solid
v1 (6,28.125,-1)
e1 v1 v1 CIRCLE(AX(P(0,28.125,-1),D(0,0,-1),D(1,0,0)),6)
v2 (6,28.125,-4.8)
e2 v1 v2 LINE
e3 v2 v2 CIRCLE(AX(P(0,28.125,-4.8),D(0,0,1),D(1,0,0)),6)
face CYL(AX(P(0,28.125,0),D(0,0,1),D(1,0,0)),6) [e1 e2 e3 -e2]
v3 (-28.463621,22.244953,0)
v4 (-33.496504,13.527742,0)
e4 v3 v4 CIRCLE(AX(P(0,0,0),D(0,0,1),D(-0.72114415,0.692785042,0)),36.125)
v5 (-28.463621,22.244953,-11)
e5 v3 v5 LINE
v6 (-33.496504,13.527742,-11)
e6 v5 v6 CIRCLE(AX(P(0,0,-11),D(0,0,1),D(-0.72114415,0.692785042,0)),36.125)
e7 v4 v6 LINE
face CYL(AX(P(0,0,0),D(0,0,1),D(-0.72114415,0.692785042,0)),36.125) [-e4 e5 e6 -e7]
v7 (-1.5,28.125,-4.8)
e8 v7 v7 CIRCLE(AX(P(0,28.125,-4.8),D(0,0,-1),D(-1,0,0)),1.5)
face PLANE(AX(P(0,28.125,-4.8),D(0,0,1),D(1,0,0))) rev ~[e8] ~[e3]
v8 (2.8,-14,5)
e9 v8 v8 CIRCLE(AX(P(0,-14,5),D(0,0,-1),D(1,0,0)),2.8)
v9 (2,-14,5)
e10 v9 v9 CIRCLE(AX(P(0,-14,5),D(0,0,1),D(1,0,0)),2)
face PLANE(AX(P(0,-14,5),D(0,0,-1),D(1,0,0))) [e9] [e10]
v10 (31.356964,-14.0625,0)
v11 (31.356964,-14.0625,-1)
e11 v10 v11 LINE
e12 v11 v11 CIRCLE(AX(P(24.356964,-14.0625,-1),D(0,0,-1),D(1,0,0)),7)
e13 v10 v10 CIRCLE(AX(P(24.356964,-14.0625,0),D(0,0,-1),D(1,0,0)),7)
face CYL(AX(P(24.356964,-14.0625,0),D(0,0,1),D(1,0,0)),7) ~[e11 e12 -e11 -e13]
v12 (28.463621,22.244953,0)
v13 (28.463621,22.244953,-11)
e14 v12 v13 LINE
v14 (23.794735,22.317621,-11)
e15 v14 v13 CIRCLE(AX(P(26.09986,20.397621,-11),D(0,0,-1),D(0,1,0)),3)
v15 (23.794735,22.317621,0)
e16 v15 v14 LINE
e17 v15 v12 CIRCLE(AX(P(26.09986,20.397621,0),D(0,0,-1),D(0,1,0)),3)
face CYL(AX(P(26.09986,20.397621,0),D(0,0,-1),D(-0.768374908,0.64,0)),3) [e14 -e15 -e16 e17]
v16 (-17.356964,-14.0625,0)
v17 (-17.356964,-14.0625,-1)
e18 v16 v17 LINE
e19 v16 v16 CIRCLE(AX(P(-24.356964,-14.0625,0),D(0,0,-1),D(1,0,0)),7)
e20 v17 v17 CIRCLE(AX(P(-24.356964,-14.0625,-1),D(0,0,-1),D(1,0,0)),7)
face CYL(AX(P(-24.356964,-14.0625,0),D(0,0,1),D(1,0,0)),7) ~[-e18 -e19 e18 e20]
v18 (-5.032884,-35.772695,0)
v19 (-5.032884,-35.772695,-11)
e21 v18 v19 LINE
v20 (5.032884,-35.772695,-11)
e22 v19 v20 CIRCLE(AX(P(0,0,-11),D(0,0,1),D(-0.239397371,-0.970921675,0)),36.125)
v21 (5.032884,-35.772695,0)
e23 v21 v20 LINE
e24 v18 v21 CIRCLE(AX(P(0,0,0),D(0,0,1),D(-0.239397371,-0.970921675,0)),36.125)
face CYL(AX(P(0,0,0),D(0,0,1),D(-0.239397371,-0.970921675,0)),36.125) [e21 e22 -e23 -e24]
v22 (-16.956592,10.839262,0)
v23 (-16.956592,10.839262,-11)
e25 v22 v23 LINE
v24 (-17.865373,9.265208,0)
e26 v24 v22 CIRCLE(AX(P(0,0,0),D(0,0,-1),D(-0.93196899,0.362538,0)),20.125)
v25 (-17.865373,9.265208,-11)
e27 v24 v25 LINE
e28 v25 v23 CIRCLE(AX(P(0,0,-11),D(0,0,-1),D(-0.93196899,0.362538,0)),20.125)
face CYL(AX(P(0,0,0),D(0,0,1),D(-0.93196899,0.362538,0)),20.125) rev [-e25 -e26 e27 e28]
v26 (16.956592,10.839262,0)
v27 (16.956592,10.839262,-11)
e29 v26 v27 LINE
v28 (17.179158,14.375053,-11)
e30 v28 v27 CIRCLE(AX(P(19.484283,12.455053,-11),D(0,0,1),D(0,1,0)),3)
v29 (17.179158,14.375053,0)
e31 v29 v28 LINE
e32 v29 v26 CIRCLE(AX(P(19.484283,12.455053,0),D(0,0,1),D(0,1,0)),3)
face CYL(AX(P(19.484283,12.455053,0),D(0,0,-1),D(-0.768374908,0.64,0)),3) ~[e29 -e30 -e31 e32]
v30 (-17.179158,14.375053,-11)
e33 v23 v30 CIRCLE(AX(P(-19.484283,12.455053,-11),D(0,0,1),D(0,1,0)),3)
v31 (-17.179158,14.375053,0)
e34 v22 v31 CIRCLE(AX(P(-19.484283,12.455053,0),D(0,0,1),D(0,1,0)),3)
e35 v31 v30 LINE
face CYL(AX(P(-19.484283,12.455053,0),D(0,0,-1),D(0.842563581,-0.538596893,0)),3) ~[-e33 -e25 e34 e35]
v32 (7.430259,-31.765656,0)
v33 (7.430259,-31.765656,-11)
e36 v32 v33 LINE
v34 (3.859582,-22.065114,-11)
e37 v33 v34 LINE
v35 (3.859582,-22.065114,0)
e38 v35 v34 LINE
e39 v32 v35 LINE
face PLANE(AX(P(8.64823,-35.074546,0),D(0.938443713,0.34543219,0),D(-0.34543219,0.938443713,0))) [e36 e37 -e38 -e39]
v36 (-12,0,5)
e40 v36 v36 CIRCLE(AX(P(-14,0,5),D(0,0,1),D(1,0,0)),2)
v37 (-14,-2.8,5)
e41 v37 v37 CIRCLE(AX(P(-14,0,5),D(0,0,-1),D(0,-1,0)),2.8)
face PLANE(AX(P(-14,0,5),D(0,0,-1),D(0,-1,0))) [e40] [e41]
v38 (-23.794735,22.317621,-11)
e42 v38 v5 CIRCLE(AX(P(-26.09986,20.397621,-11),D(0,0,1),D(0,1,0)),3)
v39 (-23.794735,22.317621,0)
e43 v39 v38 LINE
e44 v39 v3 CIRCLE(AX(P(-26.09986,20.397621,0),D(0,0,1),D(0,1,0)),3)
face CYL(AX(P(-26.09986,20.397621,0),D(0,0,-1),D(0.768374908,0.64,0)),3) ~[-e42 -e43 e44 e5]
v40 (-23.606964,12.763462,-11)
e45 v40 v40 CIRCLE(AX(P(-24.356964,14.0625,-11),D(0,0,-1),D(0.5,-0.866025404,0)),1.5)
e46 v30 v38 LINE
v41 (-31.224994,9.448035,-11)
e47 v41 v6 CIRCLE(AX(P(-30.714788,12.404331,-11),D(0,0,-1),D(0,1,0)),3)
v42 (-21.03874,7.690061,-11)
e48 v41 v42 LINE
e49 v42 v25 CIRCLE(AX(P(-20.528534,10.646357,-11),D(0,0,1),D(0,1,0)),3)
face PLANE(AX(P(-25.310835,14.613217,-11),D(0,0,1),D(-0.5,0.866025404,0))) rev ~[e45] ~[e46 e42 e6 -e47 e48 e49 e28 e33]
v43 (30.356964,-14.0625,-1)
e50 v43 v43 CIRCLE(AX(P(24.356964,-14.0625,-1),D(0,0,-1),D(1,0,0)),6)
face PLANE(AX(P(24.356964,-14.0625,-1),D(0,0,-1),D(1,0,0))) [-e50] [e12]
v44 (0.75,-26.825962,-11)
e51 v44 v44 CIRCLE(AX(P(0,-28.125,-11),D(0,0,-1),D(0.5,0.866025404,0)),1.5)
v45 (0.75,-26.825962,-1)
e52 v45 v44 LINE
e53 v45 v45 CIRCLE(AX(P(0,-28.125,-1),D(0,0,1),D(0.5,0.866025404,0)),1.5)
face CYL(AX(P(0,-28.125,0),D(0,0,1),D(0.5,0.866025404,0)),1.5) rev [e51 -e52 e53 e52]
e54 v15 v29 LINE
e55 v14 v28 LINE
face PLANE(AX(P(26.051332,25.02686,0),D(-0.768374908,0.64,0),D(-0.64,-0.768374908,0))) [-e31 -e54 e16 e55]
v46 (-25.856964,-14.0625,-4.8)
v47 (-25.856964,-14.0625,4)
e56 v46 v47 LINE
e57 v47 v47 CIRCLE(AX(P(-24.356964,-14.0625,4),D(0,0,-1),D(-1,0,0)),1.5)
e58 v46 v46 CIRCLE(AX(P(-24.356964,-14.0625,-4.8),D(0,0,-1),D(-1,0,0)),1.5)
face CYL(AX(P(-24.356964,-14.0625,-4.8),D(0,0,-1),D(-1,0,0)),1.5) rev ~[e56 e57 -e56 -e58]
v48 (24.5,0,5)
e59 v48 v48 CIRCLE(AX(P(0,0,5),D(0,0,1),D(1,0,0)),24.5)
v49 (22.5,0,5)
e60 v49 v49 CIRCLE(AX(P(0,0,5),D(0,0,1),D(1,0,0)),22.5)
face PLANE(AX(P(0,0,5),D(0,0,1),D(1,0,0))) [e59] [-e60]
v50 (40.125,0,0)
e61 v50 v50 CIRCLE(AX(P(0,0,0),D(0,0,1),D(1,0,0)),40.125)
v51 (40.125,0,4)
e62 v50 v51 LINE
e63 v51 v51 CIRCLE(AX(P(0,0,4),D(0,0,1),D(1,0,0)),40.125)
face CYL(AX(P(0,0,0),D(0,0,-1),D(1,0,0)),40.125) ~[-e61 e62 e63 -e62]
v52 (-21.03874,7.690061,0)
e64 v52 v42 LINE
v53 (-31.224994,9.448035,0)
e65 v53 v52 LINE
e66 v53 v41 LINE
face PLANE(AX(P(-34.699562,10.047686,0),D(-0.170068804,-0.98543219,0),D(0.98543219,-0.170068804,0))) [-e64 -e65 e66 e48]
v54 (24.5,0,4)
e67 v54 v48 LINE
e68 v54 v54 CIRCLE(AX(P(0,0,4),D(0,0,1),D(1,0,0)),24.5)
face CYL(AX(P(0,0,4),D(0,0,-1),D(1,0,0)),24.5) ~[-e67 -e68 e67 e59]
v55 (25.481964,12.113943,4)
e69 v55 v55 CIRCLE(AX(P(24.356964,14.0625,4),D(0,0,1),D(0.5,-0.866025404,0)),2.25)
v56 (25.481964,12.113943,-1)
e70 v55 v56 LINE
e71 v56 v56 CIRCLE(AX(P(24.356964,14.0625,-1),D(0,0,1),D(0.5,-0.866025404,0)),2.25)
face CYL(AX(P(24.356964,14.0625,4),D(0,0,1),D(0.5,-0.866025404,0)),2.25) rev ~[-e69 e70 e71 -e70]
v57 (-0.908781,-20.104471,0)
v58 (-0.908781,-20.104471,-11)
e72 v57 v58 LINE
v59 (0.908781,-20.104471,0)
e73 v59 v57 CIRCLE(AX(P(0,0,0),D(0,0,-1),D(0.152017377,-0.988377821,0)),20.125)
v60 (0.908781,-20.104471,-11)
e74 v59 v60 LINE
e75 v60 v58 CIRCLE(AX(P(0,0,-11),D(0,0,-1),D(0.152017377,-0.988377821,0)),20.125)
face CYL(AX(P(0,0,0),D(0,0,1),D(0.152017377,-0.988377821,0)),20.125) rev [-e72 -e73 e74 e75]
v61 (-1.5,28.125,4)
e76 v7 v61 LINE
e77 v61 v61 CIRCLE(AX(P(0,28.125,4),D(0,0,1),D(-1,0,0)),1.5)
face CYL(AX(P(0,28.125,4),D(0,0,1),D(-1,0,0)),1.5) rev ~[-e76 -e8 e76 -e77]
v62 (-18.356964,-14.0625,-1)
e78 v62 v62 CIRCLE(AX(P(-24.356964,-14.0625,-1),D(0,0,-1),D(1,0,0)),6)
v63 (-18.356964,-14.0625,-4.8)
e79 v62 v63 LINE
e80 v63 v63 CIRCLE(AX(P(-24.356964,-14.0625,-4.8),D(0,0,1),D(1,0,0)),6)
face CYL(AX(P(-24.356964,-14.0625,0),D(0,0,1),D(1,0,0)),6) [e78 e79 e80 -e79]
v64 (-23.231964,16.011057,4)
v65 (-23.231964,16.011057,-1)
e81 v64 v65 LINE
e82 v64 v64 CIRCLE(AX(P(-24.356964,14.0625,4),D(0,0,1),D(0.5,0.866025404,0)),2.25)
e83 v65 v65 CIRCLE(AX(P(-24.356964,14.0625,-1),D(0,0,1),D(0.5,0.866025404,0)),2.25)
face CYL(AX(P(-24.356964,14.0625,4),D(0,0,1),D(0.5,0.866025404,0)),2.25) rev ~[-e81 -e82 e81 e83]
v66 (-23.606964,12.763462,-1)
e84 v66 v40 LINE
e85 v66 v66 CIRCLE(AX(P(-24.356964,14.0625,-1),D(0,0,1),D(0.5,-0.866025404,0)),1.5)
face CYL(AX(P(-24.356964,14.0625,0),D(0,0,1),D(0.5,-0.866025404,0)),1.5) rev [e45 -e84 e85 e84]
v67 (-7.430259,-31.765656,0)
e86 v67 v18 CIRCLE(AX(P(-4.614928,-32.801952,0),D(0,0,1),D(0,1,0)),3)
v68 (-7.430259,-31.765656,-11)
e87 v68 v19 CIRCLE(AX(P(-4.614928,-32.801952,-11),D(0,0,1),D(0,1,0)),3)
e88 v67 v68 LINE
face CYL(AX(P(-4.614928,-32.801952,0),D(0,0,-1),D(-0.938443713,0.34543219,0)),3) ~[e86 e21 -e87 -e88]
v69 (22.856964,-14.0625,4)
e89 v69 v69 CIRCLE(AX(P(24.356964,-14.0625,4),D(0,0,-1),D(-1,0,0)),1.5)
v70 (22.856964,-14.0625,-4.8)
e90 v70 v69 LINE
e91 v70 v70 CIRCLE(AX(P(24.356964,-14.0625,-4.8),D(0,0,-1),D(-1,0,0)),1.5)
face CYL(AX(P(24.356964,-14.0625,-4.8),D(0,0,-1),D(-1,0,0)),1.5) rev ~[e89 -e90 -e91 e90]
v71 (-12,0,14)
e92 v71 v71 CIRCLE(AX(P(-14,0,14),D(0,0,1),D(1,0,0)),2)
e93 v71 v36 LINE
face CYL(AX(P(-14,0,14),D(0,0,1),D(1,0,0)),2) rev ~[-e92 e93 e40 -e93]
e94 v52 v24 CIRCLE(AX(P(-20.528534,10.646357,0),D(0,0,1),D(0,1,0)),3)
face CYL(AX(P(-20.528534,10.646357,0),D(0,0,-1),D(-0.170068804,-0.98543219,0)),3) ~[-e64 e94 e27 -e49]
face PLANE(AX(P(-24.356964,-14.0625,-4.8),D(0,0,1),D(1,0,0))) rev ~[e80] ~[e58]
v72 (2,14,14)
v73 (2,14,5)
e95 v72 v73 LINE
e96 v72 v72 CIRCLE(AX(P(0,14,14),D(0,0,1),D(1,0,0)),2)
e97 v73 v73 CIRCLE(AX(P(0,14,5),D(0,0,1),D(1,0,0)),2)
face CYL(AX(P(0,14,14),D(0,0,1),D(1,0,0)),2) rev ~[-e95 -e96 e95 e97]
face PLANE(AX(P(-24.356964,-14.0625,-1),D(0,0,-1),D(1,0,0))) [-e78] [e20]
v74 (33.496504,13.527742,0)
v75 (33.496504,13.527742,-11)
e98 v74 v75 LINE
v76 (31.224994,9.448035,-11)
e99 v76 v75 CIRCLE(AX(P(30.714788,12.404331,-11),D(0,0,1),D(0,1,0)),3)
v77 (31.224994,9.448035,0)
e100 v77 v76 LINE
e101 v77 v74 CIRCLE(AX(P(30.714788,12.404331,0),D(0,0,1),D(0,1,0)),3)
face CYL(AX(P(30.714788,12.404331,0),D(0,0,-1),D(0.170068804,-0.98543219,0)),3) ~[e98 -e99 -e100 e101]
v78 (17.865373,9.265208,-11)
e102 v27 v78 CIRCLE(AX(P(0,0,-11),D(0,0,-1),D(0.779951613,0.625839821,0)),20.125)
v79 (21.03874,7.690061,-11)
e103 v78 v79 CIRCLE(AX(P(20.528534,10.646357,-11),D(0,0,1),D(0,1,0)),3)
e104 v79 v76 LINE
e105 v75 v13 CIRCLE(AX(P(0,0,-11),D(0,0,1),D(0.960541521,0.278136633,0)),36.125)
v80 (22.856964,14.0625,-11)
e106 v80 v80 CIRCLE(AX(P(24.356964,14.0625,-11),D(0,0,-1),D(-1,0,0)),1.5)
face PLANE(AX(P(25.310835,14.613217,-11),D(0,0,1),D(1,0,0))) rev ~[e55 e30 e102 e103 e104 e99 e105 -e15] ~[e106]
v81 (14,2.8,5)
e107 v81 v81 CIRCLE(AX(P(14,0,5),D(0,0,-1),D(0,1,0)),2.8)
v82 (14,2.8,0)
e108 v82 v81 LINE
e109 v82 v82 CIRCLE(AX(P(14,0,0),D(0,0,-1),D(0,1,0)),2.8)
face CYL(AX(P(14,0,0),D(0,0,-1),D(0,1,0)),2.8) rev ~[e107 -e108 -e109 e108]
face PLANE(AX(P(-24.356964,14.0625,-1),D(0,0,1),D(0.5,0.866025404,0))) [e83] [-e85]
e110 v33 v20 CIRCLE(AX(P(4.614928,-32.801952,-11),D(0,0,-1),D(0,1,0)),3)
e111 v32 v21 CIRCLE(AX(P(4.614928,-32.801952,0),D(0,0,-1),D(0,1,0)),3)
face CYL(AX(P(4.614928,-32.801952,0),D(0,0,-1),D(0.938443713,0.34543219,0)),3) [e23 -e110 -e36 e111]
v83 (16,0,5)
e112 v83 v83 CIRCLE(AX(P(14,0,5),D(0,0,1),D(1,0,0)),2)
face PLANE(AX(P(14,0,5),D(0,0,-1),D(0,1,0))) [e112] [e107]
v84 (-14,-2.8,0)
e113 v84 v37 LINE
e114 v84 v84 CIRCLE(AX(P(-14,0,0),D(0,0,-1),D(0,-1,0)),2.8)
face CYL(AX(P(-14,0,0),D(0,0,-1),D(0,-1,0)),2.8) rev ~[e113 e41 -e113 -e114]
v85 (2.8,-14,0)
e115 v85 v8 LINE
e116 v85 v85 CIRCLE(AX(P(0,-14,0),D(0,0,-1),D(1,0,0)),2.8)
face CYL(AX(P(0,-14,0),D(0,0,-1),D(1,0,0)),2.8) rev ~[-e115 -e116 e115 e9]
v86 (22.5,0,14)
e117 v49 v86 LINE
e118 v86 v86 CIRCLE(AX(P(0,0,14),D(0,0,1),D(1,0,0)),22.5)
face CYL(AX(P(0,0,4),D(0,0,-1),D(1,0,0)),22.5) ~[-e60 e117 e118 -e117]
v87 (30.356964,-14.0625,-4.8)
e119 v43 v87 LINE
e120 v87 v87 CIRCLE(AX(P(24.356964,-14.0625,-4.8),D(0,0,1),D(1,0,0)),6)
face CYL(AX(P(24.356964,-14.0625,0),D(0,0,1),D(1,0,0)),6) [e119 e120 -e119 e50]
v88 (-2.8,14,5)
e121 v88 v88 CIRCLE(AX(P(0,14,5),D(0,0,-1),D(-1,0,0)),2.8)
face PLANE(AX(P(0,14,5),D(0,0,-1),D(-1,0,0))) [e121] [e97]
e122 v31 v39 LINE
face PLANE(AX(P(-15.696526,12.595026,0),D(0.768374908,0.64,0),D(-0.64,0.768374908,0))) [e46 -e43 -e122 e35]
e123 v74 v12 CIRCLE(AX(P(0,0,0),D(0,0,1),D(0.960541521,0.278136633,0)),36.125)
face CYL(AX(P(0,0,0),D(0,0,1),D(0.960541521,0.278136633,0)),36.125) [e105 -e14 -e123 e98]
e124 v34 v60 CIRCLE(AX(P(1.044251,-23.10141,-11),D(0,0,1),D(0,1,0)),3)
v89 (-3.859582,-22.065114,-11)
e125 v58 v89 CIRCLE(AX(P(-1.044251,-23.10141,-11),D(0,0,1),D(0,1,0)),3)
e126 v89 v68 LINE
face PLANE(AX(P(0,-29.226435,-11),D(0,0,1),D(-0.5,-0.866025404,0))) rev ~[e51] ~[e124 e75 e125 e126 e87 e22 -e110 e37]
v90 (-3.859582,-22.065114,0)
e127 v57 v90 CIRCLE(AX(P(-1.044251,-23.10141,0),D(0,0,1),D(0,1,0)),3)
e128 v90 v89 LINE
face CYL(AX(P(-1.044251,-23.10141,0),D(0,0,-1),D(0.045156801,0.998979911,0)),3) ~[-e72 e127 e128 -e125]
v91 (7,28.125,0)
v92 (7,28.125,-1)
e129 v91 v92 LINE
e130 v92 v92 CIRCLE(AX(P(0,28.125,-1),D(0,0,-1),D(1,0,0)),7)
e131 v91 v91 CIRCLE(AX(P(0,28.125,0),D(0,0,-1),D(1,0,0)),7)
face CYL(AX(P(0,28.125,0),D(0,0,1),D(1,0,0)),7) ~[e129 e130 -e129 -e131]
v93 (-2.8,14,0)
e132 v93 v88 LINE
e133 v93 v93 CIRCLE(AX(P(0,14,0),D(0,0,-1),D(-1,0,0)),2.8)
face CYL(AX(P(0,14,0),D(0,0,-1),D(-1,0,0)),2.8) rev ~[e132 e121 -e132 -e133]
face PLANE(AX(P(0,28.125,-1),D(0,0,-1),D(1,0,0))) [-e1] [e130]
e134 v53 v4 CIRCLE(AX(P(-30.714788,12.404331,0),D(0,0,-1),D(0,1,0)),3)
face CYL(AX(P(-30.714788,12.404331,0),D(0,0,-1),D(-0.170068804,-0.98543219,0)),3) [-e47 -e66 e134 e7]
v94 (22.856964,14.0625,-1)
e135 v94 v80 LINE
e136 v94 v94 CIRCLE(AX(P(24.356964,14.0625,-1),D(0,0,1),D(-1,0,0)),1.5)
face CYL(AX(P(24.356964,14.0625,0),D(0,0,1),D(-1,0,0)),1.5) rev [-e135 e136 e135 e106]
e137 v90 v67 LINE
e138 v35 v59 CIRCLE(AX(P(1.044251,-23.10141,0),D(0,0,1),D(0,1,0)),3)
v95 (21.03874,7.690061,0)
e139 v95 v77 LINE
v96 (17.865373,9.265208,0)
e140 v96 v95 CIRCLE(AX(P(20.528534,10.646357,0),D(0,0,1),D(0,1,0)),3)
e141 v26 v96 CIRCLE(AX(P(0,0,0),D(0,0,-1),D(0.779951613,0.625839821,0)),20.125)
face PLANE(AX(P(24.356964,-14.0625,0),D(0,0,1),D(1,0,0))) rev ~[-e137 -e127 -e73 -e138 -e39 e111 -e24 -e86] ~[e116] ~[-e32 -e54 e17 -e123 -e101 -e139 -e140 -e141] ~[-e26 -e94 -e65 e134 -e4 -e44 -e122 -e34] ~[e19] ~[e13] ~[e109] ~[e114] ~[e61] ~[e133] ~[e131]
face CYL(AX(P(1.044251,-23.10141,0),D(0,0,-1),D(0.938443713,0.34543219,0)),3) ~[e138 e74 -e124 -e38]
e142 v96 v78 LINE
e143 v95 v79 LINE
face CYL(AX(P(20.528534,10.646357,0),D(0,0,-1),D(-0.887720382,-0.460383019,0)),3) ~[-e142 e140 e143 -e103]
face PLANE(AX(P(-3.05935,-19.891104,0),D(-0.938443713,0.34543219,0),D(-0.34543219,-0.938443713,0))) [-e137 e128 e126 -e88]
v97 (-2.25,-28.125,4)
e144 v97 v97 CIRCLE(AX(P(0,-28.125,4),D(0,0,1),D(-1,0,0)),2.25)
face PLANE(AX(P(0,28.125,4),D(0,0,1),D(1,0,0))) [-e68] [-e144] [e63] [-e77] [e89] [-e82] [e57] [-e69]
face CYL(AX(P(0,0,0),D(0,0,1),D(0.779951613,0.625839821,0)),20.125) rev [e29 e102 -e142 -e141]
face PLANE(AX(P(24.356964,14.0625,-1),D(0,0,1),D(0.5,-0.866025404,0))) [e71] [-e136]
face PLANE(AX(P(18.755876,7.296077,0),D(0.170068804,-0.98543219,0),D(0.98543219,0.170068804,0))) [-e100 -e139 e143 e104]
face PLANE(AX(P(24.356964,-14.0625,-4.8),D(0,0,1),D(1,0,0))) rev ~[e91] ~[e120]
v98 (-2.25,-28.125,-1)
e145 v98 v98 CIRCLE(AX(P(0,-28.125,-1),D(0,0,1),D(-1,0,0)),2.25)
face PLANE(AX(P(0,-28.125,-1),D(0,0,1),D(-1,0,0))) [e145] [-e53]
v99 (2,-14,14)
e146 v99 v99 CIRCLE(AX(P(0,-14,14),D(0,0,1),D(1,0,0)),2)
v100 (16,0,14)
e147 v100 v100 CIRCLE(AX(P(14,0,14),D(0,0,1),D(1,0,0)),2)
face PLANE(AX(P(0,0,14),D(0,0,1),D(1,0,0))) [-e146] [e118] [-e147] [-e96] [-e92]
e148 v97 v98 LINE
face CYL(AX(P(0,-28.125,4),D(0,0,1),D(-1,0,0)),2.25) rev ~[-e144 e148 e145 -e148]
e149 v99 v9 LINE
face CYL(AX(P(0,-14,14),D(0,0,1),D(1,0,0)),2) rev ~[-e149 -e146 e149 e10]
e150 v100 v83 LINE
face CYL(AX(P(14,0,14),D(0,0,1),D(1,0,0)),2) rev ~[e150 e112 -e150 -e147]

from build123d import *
from build123d.topology import SkipClean

# Parameters (mm, degrees)
SKETCH1_R                = 40.125
SKETCH1_R_2              = 6
BOSS_EXTRUDE1_DEPTH      = 4
SKETCH1_3_R              = 6
BOSS_EXTRUDE2_DEPTH      = 4.8
SKETCH2_R                = 7
SKETCH2_R_2              = 6
BOSS_EXTRUDE3_DEPTH      = 1
SKETCH3_R                = 22.5
BOSS_EXTRUDE4_DEPTH      = 10
SKETCH3_3_R              = 24.5
SKETCH3_3_R_2            = 22.5
BOSS_EXTRUDE5_DEPTH      = 1
SKETCH4_R                = 2
CUT_EXTRUDE1_DEPTH       = 60.778518299
SKETCH5_R                = 1.5
CUT_EXTRUDE2_DEPTH       = 60.778518299
SKETCH6_R                = 2.25
CUT_EXTRUDE3_DEPTH       = 5
SKETCH7_R                = 2.8
CUT_EXTRUDE4_DEPTH       = 5
CIRPATTERN2_COUNT        = 4
SKETCH8_R                = 1.5
BOSS_EXTRUDE6_DEPTH      = 11
FILLET1_R                = 3
SKETCH8_2_R              = 1.5
CUT_EXTRUDE5_DEPTH       = 59.446824122
CIRPATTERN3_COUNT        = 3
FILLET1_OF_CIRPATTERN3_R = 3
CIRPATTERN1_COUNT        = 6
SKETCH6_2_R              = 2.25
SKETCH6_2_R_2            = 1.5
BOSS_EXTRUDE7_DEPTH      = 5


with BuildPart() as part:
    # Sketch1 → Boss-Extrude1 (new body)
    # profile 1 of 4: a face of its own
    with BuildSketch(Plane.XY):
        Circle(SKETCH1_R)
        with Locations((0, 28.125)):
            Circle(SKETCH1_R_2, mode=Mode.SUBTRACT)
        with Locations((24.356964481, -14.0625)):
            Circle(SKETCH1_R_2, mode=Mode.SUBTRACT)
        with Locations((-24.356964481, -14.0625)):
            Circle(SKETCH1_R_2, mode=Mode.SUBTRACT)
    # profile 2 of 4: a face of its own
    with BuildSketch(Plane.XY):
        with Locations((0, 28.125)):
            Circle(SKETCH1_R_2)
    # profile 3 of 4: a face of its own
    with BuildSketch(Plane.XY):
        with Locations((-24.356964481, -14.0625)):
            Circle(SKETCH1_R_2)
    # profile 4 of 4: a face of its own
    with BuildSketch(Plane.XY):
        with Locations((24.356964481, -14.0625)):
            Circle(SKETCH1_R_2)
    extrude(amount=BOSS_EXTRUDE1_DEPTH)

    # Sketch1<3> → Boss-Extrude2 (add)
    with BuildSketch(Plane.XY):
        with Locations((0, 28.125)):
            Circle(SKETCH1_3_R)
        with Locations((24.356964481, -14.0625)):
            Circle(SKETCH1_3_R)
        with Locations((-24.356964481, -14.0625)):
            Circle(SKETCH1_3_R)
    extrude(amount=-BOSS_EXTRUDE2_DEPTH)

    # Sketch2 → Boss-Extrude3 (add)
    # profile 1 of 3: a face of its own
    with BuildSketch(Plane(origin=(0, 0, 0), x_dir=(-1, 0, 0), z_dir=(0, 0, -1))):
        with Locations(Location((0, 28.125, 0), (0, 0, 180))):
            Circle(SKETCH2_R)
        with Locations(Location((0, 28.125, 0), (0, 0, 180))):
            Circle(SKETCH2_R_2, mode=Mode.SUBTRACT)
    # profile 2 of 3: a face of its own
    with BuildSketch(Plane(origin=(0, 0, 0), x_dir=(-1, 0, 0), z_dir=(0, 0, -1))):
        with Locations(Location((-24.356964481, -14.0625, 0), (0, 0, 180))):
            Circle(SKETCH2_R)
        with Locations(Location((-24.356964481, -14.0625, 0), (0, 0, 180))):
            Circle(SKETCH2_R_2, mode=Mode.SUBTRACT)
    # profile 3 of 3: a face of its own
    with BuildSketch(Plane(origin=(0, 0, 0), x_dir=(-1, 0, 0), z_dir=(0, 0, -1))):
        with Locations(Location((24.356964481, -14.0625, 0), (0, 0, 180))):
            Circle(SKETCH2_R)
        with Locations(Location((24.356964481, -14.0625, 0), (0, 0, 180))):
            Circle(SKETCH2_R_2, mode=Mode.SUBTRACT)
    extrude(amount=BOSS_EXTRUDE3_DEPTH)

    # Sketch3 → Boss-Extrude4 (add)
    with BuildSketch(Plane.XY.offset(4)):
        Circle(SKETCH3_R)
    extrude(amount=BOSS_EXTRUDE4_DEPTH)

    # Sketch3<3> → Boss-Extrude5 (add)
    with BuildSketch(Plane.XY.offset(4)):
        Circle(SKETCH3_3_R)
        Circle(SKETCH3_3_R_2, mode=Mode.SUBTRACT)
    extrude(amount=BOSS_EXTRUDE5_DEPTH)

    # Sketch4 → Cut-Extrude1 (cut, through all)
    with BuildSketch(Plane.XY.offset(14)):
        with Locations((0, 14)):
            Circle(SKETCH4_R)
        with Locations((14, 0)):
            Circle(SKETCH4_R)
        with Locations((0, -14)):
            Circle(SKETCH4_R)
        with Locations((-14, 0)):
            Circle(SKETCH4_R)
    extrude(amount=-CUT_EXTRUDE1_DEPTH, mode=Mode.SUBTRACT)

    # Sketch5 → Cut-Extrude2 (cut, through all)
    with BuildSketch(Plane(origin=(0, 0, -4.8), x_dir=(-1, 0, 0), z_dir=(0, 0, -1))):
        with Locations((0, 28.125)):
            Circle(SKETCH5_R)
        with Locations((24.356964481, -14.0625)):
            Circle(SKETCH5_R)
        with Locations((-24.356964481, -14.0625)):
            Circle(SKETCH5_R)
    extrude(amount=-CUT_EXTRUDE2_DEPTH, mode=Mode.SUBTRACT)

    # Sketch6 → Cut-Extrude3 (cut)
    with BuildSketch(Plane.XY.offset(4)):
        with Locations((0, 28.125)):
            Circle(SKETCH6_R)
    cut_extrude3 = extrude(amount=-CUT_EXTRUDE3_DEPTH, mode=Mode.SUBTRACT)

    # Sketch7 → Cut-Extrude4 (cut)
    with BuildSketch(Plane(origin=(0, 0, 0), x_dir=(-1, 0, 0), z_dir=(0, 0, -1))):
        with Locations((0, 14)):
            Circle(SKETCH7_R)
    cut_extrude4 = extrude(amount=-CUT_EXTRUDE4_DEPTH, mode=Mode.SUBTRACT)

    # CirPattern2: Cut-Extrude4 ×4 about axis
    cirpattern2_axis = Axis((0, 0, 0), (0, 0, 1))
    for i in range(1, CIRPATTERN2_COUNT):
        add(cut_extrude4.rotate(cirpattern2_axis, i * 360 / CIRPATTERN2_COUNT), mode=Mode.SUBTRACT)

    # Sketch8 → Boss-Extrude6 (add)
    with BuildSketch(Plane(origin=(0, 0, 0), x_dir=(-1, 0, 0), z_dir=(0, 0, -1))):
        with BuildLine():
            Line((-26.05133243, 25.026859644), (-15.696526212, 12.595026394))
            ThreePointArc((-15.696526212, 12.595026394), (-17.428761251, 10.0625), (-18.755875925, 7.296077254))
            Line((-18.755875925, 7.296077254), (-34.699562443, 10.047685865))
            ThreePointArc((-34.699562443, 10.047685865), (-31.285167712, 18.0625), (-26.05133243, 25.026859644))
        make_face()
        with Locations((-24.356964481, 14.0625)):
            Circle(SKETCH8_R, mode=Mode.SUBTRACT)
    boss_extrude6 = extrude(amount=BOSS_EXTRUDE6_DEPTH)

    # Fillet1
    fillet1_edges = [part.edges().sort_by_distance(p)[0] for p in [
        (26.05133243, 25.026859644, -5.5),
        (34.699562443, 10.047685865, -5.5),
        (18.755875925, 7.296077254, -5.5),
        (15.696526212, 12.595026394, -5.5),
    ]]
    fillet(fillet1_edges, radius=FILLET1_R)

    # Sketch8<2> → Cut-Extrude5 (cut, through all)
    with SkipClean():  # the faces are left unmerged after this step: merging them gives an invalid solid
        with BuildSketch(Plane(origin=(0, 0, 0), x_dir=(-1, 0, 0), z_dir=(0, 0, -1))):
            with Locations(Location((-24.356964481, 14.0625, 0), (0, 0, 180))):
                Circle(SKETCH8_2_R)
        cut_extrude5 = extrude(amount=-CUT_EXTRUDE5_DEPTH, mode=Mode.SUBTRACT)

    # CirPattern3: Boss-Extrude6, Cut-Extrude5 ×3 about axis
    cirpattern3_axis = Axis((0, 0, 0), (0, 0, 1))
    add([boss_extrude6.rotate(cirpattern3_axis, i * 360 / CIRPATTERN3_COUNT) for i in range(1, CIRPATTERN3_COUNT)])
    add([cut_extrude5.rotate(cirpattern3_axis, i * 360 / CIRPATTERN3_COUNT) for i in range(1, CIRPATTERN3_COUNT)], mode=Mode.SUBTRACT)

    # Fillet1 of CirPattern3
    fillet1_of_cirpattern3_edges = [part.edges().sort_by_distance(p)[0] for p in [
        (-34.699562443, 10.047685865, -5.5),
        (-26.05133243, 25.026859644, -5.5),
        (-15.696526212, 12.595026394, -5.5),
        (-18.755875925, 7.296077254, -5.5),
        (8.648230013, -35.074545509, -5.5),
        (-8.648230013, -35.074545509, -5.5),
        (-3.059349712, -19.891103648, -5.5),
        (3.059349712, -19.891103648, -5.5),
    ]]
    fillet(fillet1_of_cirpattern3_edges, radius=FILLET1_OF_CIRPATTERN3_R)

    # CirPattern1: Cut-Extrude3 ×6 about axis, 2 skipped
    cirpattern1_axis = Axis((0, 0, 0), (0, 0, 1))
    add([cut_extrude3.rotate(cirpattern1_axis, i * 360 / CIRPATTERN1_COUNT) for i in range(1, CIRPATTERN1_COUNT) if i not in (2, 4)], mode=Mode.SUBTRACT)

    # Sketch6<2> → Boss-Extrude7 (add)
    with BuildSketch(Plane.XY.offset(4)):
        with Locations((0, 28.125)):
            Circle(SKETCH6_2_R)
        with Locations(Location((0, 28.125, 0), (0, 0, 180))):
            Circle(SKETCH6_2_R_2, mode=Mode.SUBTRACT)
    extrude(amount=-BOSS_EXTRUDE7_DEPTH)


solid = part.part
